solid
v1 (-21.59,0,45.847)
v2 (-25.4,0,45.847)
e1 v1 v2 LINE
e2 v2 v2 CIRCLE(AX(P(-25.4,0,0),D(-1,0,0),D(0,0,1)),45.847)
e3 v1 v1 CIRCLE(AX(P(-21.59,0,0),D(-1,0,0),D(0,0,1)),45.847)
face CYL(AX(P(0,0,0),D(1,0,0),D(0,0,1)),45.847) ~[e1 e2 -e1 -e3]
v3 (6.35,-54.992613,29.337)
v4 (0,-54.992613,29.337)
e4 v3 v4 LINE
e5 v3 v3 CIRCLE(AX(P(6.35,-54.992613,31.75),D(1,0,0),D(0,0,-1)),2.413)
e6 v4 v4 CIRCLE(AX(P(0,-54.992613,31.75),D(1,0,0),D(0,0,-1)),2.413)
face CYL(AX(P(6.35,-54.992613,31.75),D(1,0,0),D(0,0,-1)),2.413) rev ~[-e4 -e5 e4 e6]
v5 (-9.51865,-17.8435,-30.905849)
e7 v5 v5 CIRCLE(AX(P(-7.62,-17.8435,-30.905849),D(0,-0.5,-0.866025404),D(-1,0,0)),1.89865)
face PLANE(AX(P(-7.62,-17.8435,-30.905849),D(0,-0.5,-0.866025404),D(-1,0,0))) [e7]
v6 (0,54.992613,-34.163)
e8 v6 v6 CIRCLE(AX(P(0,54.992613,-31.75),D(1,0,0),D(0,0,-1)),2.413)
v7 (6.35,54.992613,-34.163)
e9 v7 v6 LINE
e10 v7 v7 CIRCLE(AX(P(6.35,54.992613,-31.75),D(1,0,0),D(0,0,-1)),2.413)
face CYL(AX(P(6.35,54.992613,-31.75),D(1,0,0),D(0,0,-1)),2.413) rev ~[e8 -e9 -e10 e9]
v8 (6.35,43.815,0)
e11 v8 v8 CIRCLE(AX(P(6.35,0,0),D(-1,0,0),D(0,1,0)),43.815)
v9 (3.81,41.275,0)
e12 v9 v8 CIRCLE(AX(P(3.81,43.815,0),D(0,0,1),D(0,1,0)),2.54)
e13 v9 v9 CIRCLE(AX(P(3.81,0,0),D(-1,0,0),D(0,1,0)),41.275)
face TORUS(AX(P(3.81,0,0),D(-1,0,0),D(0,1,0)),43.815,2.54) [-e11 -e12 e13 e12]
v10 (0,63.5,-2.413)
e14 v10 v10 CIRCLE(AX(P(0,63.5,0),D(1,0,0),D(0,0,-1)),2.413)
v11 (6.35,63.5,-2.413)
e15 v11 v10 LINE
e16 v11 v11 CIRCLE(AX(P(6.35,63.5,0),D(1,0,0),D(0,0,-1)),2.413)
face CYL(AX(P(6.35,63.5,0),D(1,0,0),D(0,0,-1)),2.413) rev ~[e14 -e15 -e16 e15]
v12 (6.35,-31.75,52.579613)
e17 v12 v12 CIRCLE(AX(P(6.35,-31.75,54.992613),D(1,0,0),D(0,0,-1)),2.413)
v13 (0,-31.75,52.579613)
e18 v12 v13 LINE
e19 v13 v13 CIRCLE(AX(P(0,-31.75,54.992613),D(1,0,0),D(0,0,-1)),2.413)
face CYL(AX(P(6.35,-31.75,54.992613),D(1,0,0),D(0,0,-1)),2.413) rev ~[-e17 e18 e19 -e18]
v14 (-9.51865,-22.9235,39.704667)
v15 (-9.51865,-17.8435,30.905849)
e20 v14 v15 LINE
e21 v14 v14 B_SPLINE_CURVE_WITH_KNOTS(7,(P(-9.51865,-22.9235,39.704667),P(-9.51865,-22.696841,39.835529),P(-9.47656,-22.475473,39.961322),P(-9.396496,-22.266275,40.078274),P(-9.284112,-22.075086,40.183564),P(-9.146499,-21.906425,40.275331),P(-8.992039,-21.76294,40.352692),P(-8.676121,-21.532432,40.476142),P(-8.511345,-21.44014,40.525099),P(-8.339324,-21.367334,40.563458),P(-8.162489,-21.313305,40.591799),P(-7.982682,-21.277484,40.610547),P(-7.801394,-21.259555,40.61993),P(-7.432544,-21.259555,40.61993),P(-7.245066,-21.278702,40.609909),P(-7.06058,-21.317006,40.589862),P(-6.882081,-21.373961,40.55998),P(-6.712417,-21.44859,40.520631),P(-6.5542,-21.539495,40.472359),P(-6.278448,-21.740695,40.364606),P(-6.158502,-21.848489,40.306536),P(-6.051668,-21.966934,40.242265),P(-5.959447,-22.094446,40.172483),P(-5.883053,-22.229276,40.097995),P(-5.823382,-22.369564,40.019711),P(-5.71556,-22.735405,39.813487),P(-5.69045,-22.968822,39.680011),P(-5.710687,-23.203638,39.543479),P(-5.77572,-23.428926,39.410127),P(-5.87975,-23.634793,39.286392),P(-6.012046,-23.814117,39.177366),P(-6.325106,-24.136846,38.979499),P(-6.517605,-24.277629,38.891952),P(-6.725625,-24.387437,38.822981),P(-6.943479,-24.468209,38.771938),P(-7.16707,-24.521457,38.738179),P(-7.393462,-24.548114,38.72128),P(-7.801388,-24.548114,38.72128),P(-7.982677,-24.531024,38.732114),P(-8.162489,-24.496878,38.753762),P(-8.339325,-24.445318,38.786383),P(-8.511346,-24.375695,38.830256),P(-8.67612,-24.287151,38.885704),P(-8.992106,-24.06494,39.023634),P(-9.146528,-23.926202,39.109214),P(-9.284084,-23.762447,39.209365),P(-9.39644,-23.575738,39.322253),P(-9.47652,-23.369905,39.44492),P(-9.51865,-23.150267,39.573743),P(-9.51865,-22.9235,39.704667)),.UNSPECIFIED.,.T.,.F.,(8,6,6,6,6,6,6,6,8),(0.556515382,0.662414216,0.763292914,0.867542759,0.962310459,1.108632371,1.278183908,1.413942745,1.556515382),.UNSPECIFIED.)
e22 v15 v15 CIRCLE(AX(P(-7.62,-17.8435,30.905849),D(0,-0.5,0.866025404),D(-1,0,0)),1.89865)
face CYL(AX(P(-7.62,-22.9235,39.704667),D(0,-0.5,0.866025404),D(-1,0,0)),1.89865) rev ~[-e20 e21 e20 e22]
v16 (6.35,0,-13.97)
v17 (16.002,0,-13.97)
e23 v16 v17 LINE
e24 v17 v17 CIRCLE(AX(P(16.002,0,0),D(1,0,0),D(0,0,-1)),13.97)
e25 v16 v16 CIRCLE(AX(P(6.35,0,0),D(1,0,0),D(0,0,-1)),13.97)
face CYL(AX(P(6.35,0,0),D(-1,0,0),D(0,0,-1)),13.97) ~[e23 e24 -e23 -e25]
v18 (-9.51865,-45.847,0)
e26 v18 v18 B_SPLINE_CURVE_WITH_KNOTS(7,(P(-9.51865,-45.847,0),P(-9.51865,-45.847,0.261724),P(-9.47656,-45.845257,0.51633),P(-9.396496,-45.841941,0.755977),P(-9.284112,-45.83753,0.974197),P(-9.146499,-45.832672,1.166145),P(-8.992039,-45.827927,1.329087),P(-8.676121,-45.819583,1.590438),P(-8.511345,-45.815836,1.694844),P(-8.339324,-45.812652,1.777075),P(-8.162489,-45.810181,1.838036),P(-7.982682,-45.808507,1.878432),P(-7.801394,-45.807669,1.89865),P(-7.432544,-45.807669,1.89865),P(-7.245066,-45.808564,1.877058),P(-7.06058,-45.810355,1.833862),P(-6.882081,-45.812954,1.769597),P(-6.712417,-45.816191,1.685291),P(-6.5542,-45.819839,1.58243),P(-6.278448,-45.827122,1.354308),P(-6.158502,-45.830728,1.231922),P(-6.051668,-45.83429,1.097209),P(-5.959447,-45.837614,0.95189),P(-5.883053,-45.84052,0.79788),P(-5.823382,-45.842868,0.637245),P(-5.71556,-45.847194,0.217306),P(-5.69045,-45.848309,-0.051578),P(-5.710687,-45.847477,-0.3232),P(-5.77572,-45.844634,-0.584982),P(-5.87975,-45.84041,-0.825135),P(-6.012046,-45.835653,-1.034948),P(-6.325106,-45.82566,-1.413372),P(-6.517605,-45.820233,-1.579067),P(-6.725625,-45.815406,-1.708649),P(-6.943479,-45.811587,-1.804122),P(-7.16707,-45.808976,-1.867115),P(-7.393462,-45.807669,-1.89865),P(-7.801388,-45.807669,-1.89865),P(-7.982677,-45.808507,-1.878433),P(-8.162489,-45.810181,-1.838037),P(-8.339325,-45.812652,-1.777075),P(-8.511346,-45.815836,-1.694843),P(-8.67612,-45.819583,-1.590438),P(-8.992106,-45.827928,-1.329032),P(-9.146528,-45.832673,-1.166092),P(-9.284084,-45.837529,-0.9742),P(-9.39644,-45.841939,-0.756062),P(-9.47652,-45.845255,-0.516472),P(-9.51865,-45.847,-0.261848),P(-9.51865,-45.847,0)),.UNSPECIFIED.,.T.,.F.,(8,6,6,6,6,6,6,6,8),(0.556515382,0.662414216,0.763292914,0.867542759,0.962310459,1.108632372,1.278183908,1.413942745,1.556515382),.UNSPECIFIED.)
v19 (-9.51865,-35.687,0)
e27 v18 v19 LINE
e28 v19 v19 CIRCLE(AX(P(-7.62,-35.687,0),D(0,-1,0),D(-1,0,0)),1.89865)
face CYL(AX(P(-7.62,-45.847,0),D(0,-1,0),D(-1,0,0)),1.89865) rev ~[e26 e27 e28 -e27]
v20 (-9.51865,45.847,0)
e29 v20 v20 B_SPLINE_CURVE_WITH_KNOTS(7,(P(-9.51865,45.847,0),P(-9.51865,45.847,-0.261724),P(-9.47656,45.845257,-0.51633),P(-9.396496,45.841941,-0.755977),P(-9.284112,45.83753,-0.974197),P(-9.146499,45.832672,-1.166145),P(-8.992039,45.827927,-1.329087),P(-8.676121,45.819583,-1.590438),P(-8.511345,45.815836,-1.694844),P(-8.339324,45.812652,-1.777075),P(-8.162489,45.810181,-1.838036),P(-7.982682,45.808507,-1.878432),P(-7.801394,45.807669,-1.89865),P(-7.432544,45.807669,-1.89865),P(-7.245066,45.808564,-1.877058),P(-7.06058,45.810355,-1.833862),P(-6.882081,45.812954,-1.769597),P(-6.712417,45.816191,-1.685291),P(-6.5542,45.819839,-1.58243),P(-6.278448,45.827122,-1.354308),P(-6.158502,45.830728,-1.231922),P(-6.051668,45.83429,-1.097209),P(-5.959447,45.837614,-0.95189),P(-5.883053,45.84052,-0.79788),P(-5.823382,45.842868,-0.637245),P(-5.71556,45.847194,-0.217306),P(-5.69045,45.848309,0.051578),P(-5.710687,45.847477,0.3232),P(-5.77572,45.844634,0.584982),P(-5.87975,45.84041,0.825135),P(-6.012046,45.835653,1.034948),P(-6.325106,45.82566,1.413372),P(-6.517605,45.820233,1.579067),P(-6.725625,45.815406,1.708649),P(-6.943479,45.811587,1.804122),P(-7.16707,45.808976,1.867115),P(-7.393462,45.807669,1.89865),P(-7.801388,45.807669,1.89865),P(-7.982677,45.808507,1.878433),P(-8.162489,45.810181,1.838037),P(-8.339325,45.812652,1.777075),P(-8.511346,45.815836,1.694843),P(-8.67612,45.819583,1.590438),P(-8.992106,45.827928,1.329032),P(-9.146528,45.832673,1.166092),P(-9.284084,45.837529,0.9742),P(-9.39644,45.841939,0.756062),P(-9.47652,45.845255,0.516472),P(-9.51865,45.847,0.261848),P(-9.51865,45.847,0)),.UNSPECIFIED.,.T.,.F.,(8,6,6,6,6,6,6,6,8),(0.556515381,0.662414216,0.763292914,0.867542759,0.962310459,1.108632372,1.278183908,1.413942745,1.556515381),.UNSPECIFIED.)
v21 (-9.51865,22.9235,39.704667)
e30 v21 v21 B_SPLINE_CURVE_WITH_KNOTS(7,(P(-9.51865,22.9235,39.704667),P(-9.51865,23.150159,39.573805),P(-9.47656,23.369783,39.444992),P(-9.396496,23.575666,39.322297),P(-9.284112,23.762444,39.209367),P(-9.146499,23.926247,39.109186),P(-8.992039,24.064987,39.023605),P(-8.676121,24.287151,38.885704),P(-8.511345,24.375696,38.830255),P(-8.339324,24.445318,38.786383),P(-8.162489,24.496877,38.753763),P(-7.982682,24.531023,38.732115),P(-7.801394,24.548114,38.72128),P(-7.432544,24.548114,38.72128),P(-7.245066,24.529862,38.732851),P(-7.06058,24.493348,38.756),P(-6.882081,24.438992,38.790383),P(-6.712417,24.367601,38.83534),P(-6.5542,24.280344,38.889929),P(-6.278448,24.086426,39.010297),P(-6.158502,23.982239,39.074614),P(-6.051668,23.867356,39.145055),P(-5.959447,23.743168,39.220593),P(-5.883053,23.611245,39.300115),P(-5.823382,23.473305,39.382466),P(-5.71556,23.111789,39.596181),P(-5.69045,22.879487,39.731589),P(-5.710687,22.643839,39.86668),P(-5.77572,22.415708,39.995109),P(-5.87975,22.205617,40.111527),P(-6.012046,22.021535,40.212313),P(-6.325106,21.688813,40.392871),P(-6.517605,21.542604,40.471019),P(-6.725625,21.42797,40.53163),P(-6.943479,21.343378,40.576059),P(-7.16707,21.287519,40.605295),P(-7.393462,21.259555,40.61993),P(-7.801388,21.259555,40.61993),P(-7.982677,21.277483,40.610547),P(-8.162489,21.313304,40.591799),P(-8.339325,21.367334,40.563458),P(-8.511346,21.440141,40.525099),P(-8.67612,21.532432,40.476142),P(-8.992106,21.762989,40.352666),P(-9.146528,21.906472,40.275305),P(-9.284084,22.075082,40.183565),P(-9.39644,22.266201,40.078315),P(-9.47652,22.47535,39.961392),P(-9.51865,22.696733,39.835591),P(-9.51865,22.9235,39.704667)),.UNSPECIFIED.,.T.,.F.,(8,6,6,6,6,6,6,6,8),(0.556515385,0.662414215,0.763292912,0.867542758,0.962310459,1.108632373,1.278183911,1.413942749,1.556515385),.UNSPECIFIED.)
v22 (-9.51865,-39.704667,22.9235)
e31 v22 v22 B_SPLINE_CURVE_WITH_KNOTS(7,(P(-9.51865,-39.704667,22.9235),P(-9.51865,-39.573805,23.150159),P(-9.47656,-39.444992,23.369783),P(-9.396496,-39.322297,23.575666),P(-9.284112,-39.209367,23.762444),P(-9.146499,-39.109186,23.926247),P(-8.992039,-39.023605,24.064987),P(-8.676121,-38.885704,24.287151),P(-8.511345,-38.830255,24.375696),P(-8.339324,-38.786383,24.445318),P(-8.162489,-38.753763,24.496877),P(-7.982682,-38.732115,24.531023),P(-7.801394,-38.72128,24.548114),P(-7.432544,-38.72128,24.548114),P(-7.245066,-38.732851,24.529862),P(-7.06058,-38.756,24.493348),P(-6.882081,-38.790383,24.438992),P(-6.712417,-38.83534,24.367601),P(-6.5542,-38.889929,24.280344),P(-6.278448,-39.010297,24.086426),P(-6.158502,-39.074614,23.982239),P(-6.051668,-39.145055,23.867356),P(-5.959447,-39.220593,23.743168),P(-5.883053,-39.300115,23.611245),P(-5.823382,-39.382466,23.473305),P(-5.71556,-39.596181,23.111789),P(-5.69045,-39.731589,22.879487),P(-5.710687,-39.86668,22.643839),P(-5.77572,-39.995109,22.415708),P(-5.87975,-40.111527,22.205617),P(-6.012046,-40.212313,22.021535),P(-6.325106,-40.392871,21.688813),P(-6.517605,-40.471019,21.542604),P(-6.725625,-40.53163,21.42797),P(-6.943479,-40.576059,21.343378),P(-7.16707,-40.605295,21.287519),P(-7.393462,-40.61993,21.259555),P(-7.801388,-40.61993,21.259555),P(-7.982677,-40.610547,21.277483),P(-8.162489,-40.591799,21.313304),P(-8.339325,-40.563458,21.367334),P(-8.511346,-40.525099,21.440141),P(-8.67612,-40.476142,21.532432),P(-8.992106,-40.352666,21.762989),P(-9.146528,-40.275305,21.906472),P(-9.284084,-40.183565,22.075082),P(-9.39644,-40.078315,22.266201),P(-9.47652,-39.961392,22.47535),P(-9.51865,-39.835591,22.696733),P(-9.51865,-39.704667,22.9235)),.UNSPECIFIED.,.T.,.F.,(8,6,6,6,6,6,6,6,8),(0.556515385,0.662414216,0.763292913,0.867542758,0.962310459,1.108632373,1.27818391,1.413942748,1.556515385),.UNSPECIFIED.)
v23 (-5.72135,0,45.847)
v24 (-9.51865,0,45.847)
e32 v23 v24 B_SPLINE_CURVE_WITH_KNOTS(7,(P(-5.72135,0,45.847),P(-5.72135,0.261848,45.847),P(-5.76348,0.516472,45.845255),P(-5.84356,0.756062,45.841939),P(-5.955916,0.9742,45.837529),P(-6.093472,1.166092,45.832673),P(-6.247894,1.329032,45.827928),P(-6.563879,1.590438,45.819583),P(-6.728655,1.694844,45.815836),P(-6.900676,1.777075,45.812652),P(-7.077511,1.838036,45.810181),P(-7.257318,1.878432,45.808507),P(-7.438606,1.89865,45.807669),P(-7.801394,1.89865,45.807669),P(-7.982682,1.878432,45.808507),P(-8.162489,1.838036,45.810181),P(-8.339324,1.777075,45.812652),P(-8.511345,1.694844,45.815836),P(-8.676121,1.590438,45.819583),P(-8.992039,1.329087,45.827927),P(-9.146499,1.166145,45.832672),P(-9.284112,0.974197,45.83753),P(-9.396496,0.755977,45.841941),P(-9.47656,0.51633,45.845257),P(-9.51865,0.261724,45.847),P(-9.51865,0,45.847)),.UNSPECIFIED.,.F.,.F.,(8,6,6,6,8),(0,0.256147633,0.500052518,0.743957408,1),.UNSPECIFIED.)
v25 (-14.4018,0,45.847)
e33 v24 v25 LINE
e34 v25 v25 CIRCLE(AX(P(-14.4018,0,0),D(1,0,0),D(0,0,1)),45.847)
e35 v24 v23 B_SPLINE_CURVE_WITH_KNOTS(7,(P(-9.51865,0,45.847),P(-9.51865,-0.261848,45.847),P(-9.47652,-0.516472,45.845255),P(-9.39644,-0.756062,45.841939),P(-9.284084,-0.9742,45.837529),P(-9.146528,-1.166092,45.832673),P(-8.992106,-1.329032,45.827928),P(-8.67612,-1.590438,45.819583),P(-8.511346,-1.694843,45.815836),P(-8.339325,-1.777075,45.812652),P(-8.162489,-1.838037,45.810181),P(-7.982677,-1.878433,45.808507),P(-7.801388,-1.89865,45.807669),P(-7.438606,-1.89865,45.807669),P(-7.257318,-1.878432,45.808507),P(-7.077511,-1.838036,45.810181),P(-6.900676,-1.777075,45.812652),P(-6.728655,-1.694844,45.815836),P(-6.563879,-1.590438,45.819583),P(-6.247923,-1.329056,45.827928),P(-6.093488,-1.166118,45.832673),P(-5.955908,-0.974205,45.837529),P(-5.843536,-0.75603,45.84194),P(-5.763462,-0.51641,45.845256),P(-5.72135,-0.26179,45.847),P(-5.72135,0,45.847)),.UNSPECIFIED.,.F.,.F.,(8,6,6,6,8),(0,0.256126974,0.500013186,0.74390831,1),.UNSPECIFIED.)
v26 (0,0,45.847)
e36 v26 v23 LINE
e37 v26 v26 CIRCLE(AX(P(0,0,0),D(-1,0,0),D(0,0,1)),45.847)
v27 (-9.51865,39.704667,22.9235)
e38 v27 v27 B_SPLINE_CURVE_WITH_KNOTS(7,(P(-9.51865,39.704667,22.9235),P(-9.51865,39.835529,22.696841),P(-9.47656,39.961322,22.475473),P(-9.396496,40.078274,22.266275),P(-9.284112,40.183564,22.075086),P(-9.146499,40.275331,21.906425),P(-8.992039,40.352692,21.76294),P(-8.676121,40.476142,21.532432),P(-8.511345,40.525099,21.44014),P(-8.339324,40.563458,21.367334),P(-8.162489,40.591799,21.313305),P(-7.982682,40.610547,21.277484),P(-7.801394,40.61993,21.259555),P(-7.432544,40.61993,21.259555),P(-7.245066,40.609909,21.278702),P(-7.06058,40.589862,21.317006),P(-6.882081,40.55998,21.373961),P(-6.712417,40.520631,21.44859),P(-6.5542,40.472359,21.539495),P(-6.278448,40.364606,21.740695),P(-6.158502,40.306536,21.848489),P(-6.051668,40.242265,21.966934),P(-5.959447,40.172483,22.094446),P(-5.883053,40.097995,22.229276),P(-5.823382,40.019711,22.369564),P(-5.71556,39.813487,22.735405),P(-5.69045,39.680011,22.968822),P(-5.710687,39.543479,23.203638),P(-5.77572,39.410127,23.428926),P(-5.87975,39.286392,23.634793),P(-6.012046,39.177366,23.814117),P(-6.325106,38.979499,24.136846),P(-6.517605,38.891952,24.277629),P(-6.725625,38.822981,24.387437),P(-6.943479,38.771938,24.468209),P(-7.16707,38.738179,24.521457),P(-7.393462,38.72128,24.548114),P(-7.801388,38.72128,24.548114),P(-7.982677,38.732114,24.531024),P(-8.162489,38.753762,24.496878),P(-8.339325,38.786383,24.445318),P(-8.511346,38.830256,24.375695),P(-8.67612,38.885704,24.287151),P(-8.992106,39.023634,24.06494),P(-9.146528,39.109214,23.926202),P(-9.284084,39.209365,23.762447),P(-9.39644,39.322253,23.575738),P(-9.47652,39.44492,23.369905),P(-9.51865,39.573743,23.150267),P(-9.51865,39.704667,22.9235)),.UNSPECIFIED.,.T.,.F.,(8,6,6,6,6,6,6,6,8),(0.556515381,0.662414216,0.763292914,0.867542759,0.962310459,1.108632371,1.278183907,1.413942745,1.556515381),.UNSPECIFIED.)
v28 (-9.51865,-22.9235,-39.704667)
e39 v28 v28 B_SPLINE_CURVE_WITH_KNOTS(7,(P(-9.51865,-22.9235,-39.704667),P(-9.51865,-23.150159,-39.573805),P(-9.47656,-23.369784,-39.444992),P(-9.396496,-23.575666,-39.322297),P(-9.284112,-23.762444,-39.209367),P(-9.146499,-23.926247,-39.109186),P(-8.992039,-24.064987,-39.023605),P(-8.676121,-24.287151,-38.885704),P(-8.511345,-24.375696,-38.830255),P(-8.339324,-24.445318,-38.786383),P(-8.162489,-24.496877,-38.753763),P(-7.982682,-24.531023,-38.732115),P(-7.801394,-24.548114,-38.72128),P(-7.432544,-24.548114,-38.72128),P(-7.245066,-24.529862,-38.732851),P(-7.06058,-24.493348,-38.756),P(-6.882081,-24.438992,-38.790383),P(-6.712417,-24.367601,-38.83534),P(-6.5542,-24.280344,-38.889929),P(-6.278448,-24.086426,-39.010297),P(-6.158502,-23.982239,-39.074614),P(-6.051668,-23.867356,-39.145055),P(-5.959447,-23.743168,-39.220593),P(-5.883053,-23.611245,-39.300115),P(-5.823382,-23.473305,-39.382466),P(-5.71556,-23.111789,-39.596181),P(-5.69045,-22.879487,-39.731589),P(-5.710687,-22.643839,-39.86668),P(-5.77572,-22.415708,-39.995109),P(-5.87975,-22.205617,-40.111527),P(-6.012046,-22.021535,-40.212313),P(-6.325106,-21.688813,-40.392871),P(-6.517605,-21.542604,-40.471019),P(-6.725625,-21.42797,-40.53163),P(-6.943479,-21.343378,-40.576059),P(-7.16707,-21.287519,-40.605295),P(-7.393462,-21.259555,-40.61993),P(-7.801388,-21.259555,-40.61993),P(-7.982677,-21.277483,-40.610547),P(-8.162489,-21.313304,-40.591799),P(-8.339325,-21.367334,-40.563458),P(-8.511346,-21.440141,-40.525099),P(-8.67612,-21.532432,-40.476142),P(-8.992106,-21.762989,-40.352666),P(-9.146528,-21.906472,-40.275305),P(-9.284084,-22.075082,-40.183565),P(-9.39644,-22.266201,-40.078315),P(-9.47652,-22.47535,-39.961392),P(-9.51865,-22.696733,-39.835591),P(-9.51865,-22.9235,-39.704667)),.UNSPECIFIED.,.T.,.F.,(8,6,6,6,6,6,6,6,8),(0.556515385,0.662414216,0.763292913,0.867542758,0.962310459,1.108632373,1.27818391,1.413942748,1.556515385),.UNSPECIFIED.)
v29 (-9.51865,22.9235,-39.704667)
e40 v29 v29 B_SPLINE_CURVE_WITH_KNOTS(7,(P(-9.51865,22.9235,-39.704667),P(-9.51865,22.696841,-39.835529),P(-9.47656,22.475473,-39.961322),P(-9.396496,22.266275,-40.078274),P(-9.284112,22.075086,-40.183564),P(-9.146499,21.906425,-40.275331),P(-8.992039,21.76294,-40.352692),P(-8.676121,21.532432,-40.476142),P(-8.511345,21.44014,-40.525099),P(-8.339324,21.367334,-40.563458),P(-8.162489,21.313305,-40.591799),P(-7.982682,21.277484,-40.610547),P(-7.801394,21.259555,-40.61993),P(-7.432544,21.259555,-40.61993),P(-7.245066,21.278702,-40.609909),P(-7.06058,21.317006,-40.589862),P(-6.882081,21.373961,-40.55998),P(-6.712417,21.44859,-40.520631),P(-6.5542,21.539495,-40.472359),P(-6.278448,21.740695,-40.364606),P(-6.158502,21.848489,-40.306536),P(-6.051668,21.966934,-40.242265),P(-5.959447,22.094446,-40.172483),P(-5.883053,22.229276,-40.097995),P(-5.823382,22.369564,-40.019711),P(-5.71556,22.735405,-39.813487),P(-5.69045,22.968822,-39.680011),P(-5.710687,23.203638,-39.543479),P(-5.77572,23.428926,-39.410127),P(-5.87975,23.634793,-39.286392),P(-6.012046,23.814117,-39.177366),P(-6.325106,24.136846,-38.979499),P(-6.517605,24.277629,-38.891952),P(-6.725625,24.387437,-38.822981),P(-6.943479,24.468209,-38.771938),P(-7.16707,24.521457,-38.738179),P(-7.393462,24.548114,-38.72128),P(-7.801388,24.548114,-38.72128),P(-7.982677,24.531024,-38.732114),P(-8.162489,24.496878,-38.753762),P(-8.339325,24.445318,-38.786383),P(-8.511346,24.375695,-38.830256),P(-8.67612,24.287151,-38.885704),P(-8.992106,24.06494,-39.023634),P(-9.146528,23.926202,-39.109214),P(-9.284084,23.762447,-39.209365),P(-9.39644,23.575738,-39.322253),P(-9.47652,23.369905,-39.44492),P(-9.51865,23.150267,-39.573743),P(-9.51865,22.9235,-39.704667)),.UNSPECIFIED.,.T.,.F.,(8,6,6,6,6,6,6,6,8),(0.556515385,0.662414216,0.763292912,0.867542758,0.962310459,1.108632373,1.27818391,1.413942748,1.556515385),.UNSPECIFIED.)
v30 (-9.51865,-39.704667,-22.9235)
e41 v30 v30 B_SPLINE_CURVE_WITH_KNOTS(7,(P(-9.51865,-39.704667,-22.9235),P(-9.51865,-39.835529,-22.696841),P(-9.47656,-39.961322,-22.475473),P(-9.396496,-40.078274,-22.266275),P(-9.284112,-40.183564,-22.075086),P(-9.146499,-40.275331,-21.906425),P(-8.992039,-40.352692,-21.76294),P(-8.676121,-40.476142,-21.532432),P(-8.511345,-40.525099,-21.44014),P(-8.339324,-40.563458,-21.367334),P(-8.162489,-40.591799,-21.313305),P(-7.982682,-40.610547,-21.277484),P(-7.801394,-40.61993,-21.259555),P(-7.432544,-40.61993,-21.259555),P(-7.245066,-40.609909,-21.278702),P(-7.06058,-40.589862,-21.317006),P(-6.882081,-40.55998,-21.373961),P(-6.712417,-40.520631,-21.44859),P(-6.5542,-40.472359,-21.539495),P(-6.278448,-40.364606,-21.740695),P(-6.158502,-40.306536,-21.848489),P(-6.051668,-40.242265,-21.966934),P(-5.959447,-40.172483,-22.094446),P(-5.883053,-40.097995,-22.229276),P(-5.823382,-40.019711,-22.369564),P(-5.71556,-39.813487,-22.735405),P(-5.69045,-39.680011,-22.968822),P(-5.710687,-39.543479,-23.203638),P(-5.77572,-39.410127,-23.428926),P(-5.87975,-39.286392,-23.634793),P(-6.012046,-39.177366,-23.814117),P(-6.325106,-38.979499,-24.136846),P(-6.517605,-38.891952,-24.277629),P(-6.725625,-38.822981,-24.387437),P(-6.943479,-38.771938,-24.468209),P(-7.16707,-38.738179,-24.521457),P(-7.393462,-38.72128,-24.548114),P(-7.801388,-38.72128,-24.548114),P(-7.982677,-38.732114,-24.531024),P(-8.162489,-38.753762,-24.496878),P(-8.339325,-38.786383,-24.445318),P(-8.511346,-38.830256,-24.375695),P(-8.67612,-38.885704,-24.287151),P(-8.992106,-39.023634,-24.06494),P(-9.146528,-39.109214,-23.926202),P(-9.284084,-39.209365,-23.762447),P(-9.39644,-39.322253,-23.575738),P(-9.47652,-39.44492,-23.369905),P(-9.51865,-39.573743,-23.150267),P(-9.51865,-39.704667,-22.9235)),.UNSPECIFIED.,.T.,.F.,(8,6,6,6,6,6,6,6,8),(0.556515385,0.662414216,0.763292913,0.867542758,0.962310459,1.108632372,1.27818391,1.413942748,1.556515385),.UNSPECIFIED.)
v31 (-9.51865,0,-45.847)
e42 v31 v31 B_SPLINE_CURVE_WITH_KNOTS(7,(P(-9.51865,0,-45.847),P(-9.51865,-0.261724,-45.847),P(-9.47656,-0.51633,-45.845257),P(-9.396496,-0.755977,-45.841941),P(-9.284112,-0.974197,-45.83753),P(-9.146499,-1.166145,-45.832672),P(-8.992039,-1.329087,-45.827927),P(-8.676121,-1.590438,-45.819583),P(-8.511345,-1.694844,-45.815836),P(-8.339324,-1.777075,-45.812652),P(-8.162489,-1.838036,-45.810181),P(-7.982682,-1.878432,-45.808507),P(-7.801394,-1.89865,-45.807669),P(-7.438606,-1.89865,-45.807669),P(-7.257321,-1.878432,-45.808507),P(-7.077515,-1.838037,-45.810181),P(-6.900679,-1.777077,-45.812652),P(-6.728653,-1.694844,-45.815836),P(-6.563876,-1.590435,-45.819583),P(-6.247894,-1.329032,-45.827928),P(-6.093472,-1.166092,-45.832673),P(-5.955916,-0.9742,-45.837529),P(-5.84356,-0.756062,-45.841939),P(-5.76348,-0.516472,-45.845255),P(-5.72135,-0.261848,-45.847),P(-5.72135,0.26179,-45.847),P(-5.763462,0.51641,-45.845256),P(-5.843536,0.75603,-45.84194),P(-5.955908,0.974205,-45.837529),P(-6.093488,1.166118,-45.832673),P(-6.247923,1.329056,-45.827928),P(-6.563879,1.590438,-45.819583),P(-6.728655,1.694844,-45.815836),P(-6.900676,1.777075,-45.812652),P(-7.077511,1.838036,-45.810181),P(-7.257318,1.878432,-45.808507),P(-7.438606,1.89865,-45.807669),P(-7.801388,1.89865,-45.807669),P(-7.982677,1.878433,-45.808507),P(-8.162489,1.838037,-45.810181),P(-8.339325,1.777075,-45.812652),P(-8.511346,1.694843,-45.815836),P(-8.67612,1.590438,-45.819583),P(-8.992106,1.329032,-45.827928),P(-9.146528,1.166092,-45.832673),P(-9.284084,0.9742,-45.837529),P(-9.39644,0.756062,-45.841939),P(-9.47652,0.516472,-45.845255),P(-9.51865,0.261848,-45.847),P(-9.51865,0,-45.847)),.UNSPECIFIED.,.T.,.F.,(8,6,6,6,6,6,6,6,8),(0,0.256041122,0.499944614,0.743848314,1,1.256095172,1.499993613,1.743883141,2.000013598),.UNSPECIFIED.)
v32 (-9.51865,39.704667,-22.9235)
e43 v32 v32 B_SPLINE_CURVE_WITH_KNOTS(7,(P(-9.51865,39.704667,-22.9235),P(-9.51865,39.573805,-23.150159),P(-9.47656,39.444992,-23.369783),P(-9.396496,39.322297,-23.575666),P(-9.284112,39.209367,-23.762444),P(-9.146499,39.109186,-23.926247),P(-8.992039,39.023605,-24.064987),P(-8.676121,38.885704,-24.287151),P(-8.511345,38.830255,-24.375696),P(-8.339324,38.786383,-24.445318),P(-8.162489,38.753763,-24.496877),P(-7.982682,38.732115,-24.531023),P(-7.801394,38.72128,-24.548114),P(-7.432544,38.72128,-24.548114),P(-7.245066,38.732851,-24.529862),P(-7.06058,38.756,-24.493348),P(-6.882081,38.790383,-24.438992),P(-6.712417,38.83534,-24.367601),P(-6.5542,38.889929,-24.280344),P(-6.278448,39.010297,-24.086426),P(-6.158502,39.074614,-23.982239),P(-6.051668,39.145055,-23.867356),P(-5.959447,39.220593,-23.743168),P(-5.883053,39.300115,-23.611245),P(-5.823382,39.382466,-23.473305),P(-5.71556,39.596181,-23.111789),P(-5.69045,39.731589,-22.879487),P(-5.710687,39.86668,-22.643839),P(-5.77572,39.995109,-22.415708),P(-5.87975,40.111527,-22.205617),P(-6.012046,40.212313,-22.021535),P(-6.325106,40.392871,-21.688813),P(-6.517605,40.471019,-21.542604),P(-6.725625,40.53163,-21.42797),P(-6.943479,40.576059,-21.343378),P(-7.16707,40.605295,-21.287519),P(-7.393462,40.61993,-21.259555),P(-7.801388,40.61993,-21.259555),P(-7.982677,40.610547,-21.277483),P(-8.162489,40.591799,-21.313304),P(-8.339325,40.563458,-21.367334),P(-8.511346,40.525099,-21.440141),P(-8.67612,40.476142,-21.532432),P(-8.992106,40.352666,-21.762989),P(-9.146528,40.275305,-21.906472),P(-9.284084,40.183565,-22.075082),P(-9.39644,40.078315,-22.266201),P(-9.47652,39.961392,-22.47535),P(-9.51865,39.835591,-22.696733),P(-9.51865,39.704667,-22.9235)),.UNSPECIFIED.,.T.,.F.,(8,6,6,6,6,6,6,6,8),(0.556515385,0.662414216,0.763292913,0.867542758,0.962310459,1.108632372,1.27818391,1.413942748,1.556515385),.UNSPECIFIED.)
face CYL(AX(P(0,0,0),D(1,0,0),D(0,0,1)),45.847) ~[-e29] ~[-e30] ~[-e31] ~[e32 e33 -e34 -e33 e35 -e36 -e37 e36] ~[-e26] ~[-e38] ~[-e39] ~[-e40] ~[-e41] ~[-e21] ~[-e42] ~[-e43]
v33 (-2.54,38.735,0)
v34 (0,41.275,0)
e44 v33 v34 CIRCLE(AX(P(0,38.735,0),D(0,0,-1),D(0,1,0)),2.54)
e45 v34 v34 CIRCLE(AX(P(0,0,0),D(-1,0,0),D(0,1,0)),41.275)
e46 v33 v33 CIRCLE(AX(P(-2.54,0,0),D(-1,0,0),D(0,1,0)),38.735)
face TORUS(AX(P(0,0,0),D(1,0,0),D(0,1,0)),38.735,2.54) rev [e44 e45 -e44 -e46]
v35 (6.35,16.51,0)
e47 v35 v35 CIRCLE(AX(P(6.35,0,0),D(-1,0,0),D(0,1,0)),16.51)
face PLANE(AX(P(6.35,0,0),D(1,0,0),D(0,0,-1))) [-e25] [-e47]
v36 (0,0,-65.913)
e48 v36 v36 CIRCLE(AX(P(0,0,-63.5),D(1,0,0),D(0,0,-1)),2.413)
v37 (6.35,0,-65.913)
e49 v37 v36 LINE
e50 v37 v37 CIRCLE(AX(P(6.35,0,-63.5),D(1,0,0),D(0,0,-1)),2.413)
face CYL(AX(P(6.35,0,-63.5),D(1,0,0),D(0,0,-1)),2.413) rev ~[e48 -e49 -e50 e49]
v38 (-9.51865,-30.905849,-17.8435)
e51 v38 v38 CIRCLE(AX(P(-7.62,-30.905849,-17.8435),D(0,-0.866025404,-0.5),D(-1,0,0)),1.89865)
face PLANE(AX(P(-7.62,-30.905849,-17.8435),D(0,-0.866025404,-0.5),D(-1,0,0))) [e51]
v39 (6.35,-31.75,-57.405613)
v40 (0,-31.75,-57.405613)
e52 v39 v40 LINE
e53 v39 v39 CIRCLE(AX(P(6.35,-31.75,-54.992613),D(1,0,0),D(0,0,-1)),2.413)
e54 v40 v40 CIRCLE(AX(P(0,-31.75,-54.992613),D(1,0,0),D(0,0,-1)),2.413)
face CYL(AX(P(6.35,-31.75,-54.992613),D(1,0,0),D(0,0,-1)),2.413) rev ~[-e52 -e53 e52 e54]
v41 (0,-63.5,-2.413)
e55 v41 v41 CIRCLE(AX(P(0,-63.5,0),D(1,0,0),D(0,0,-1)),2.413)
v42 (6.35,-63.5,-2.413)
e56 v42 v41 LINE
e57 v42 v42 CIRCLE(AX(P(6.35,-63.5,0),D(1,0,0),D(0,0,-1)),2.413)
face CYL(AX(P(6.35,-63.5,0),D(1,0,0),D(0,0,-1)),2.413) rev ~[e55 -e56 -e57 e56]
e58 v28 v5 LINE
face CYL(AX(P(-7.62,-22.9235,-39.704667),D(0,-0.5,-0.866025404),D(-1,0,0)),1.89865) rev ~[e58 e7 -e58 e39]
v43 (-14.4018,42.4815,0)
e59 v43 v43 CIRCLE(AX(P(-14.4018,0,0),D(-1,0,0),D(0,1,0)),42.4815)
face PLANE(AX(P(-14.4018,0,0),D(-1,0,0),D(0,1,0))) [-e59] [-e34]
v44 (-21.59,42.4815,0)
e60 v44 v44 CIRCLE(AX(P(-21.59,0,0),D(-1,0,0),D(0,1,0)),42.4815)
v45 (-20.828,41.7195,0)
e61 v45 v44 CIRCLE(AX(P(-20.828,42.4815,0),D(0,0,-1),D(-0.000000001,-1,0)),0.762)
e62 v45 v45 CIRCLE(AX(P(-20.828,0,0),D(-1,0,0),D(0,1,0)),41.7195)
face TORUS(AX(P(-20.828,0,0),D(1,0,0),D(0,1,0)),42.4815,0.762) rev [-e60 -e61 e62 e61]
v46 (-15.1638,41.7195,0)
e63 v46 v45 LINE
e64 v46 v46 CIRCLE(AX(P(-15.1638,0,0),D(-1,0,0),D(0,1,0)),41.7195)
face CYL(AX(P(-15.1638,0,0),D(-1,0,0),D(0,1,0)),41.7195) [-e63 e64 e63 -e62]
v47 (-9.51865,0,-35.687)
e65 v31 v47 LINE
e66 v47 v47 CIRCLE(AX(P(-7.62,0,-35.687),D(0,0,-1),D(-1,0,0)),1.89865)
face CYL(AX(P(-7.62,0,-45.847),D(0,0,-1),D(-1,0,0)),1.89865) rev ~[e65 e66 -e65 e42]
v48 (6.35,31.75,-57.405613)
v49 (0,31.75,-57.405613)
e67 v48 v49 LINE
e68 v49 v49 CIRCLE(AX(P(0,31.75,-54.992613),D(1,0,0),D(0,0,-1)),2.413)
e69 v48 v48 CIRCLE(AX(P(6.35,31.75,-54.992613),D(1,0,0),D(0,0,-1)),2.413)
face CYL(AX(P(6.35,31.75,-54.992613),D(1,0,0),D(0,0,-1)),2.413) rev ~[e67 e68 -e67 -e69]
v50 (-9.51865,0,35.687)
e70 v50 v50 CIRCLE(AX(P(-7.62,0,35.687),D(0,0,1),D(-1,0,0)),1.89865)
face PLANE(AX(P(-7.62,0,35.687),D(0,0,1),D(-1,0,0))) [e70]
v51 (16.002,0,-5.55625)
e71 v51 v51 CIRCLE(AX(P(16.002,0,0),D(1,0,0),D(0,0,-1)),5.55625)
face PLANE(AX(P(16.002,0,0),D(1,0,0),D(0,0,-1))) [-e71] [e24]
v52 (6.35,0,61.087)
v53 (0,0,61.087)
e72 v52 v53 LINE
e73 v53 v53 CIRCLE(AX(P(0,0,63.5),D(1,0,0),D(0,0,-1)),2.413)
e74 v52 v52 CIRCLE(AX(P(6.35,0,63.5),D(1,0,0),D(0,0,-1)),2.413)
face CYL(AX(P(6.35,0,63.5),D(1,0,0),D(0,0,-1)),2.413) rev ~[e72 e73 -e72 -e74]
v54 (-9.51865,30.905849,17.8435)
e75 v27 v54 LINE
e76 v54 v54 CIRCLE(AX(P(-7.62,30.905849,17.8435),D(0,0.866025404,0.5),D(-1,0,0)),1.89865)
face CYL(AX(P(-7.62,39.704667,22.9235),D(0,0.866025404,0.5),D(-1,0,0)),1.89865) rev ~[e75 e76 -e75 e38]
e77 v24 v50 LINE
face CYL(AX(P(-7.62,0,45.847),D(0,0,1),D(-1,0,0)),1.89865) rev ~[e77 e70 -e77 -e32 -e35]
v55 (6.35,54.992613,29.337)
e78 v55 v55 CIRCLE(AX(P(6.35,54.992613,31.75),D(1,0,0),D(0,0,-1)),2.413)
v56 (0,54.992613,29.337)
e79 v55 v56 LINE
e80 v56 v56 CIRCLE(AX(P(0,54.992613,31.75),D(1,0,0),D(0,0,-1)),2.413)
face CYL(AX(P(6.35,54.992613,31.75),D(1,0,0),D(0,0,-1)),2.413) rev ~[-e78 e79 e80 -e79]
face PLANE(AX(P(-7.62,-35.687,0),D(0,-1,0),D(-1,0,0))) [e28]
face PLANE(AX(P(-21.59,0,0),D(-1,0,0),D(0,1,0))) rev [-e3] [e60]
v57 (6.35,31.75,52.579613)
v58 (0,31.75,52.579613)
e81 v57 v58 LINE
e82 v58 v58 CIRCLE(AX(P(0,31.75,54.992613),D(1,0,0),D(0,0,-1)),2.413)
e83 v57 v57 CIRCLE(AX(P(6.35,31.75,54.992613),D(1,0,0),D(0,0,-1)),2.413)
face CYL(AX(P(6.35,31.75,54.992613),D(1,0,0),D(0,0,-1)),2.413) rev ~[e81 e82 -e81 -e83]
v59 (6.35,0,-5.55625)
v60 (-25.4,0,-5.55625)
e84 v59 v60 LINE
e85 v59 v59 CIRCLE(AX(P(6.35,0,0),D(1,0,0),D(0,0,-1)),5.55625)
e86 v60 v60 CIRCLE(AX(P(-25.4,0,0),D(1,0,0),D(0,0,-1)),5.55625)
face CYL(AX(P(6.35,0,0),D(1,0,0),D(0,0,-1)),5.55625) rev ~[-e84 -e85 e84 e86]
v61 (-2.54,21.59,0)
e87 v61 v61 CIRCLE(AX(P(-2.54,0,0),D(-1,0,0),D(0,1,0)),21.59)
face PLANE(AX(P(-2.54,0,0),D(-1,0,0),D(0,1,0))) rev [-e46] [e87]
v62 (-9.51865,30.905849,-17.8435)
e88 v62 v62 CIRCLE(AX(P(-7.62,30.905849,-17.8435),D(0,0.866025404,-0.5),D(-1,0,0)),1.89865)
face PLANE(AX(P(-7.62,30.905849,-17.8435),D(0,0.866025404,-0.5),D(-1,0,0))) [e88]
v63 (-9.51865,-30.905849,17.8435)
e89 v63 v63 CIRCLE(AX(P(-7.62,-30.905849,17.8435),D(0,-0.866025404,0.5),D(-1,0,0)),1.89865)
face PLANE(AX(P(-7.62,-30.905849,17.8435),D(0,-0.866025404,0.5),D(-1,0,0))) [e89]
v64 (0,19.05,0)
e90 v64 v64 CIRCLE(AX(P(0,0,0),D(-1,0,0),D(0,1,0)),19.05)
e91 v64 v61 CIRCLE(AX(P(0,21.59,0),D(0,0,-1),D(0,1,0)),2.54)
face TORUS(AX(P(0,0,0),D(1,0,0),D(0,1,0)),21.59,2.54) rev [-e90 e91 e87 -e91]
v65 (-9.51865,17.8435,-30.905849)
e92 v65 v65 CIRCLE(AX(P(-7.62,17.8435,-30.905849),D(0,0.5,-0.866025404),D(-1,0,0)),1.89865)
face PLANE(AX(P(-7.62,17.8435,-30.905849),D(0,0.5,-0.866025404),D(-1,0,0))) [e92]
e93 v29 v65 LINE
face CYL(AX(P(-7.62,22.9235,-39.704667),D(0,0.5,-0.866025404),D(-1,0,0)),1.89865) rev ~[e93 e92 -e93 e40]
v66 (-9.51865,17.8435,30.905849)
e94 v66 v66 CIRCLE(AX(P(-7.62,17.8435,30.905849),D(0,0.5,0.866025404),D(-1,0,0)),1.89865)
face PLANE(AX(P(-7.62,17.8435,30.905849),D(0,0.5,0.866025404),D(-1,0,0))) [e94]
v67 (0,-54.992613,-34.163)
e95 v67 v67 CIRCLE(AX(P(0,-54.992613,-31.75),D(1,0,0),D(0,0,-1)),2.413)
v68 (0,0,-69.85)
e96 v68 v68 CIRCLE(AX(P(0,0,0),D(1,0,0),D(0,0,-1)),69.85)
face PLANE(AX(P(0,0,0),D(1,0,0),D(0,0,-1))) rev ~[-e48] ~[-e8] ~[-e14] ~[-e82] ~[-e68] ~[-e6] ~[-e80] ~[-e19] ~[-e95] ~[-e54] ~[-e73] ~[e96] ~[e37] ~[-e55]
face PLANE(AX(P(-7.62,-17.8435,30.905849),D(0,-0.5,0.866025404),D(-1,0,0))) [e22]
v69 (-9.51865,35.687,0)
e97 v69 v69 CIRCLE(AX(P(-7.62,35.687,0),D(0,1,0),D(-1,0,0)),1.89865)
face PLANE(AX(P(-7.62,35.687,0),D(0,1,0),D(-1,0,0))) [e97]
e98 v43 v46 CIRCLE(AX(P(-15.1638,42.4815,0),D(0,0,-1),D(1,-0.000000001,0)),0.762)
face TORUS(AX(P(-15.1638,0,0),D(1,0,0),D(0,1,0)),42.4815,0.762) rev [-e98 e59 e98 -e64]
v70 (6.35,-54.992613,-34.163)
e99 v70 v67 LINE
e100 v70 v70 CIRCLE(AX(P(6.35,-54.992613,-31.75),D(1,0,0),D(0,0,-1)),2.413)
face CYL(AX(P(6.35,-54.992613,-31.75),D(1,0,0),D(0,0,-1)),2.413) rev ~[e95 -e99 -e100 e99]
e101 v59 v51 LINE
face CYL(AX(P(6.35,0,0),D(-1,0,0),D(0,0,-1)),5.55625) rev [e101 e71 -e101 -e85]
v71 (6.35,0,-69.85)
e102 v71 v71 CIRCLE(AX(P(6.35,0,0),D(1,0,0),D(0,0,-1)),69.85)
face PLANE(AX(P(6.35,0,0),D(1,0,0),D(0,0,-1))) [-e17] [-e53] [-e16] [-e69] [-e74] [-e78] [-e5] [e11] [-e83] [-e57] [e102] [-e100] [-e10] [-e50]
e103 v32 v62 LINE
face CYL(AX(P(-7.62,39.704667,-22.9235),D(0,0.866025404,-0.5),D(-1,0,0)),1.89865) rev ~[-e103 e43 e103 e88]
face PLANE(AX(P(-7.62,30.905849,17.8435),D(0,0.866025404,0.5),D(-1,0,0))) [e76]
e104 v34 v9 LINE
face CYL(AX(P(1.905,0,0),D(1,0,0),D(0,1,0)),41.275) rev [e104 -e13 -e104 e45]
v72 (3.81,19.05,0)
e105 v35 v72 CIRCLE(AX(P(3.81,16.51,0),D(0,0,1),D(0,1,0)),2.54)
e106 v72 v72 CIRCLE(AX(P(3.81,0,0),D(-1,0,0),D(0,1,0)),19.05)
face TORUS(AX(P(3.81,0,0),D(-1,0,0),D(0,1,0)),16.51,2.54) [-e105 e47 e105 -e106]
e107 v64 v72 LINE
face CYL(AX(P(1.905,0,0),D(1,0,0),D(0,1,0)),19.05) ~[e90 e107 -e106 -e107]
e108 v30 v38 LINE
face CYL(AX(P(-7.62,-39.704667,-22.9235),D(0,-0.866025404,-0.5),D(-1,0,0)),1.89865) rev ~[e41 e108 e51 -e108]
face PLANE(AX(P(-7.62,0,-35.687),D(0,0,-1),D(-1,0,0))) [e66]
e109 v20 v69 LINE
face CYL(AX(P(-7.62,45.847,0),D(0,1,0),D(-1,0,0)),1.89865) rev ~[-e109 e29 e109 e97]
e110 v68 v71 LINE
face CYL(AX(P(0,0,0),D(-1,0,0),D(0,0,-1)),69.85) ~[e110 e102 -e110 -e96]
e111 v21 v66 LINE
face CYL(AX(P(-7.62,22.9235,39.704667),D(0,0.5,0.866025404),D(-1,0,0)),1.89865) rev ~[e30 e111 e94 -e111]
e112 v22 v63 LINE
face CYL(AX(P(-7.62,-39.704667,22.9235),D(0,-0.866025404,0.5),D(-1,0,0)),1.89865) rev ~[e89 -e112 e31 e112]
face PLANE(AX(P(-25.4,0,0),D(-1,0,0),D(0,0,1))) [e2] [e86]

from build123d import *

# Parameters (mm, degrees)
SKETCH1_R               = 69.85
BOSS_EXTRUDE1_DEPTH     = 6.35
SKETCH2_R               = 45.847
BOSS_EXTRUDE2_DEPTH     = 25.4
SKETCH11_R              = 1.89865
CUT_EXTRUDE3_DEPTH      = 10.16
CIRPATTERN1_COUNT       = 12
SKETCH15_R              = 5.55625
CUT_EXTRUDE4_DEPTH      = 1
CUT_EXTRUDE4_DEPTH_BACK = 32.7500001
SKETCH17_R              = 13.97
SKETCH17_R_2            = 5.55625
BOSS_EXTRUDE3_DEPTH     = 9.652
SKETCH18_W              = 8.89
SKETCH18_H              = 22.225
FILLET1_R               = 2.54
SKETCH19_R              = 2.413
CUT_EXTRUDE5_DEPTH      = 32.75


with BuildPart() as part:
    # Sketch1 → Boss-Extrude1 (new body)
    with BuildSketch(Plane(origin=(0, 0, 0), x_dir=(0, 0, -1), z_dir=(1, 0, 0))):
        Circle(SKETCH1_R)
    extrude(amount=BOSS_EXTRUDE1_DEPTH)

    # Sketch2 → Boss-Extrude2 (add)
    with BuildSketch(Plane.ZY):
        Circle(SKETCH2_R)
    extrude(amount=BOSS_EXTRUDE2_DEPTH)

    # Sketch11 → Cut-Extrude3 (cut)
    with BuildSketch(Plane(origin=(0, 0, -45.847), x_dir=(-1, 0, 0), z_dir=(0, 0, -1))):
        with Locations((7.62, 0)):
            Circle(SKETCH11_R)
    cut_extrude3 = extrude(amount=-CUT_EXTRUDE3_DEPTH, mode=Mode.SUBTRACT)

    # CirPattern1: Cut-Extrude3 ×12 about axis
    cirpattern1_axis = Axis((0, 0, 0), (1, 0, 0))
    for i in range(1, CIRPATTERN1_COUNT):
        add(cut_extrude3.rotate(cirpattern1_axis, i * 360 / CIRPATTERN1_COUNT), mode=Mode.SUBTRACT)

    # Sketch15 → Cut-Extrude4 (cut, two sides)
    with BuildSketch(Plane(origin=(6.35, 0, 0), x_dir=(0, 0, -1), z_dir=(1, 0, 0))) as cut_extrude4_sk:
        Circle(SKETCH15_R)
    extrude(amount=CUT_EXTRUDE4_DEPTH, mode=Mode.SUBTRACT)
    extrude(cut_extrude4_sk.sketch, amount=-CUT_EXTRUDE4_DEPTH_BACK, mode=Mode.SUBTRACT)

    # Sketch16 → Cut-Revolve1 (revolve, cut)
    with BuildSketch(Plane.XY):
        with BuildLine():
            Line((-21.59, 45.847), (-14.4018, 45.847))
            Line((-14.4018, 45.847), (-14.4018, 42.4815))
            ThreePointArc((-14.4018, 42.4815), (-14.624984633, 41.942684633), (-15.1638, 41.7195))
            Line((-15.1638, 41.7195), (-20.828, 41.7195))
            ThreePointArc((-20.828, 41.7195), (-21.366815367, 41.942684633), (-21.59, 42.4815))
            Line((-21.59, 42.4815), (-21.59, 45.847))
        make_face()
    revolve(axis=Axis((0, 0, 0), (-1, 0, 0)), mode=Mode.SUBTRACT)

    # Sketch17 → Boss-Extrude3 (add)
    with BuildSketch(Plane(origin=(6.35, 0, 0), x_dir=(0, 0, -1), z_dir=(1, 0, 0))):
        Circle(SKETCH17_R)
        Circle(SKETCH17_R_2, mode=Mode.SUBTRACT)
    extrude(amount=BOSS_EXTRUDE3_DEPTH)

    # Sketch18 → Cut-Revolve2 (revolve, cut)
    with BuildSketch(Plane.XY):
        with Locations((1.905, 30.1625)):
            Rectangle(SKETCH18_W, SKETCH18_H)
    revolve(axis=Axis((0, 0, 0), (-1, 0, 0)), mode=Mode.SUBTRACT)

    # Fillet1
    fillet1_edges = [part.edges().sort_by_distance(p)[0] for p in [
        (6.35, -41.275, 0),
        (6.35, -19.05, 0),
        (-2.54, -19.05, 0),
        (-2.54, -41.275, 0),
    ]]
    fillet(fillet1_edges, radius=FILLET1_R)

    # Sketch19 → Cut-Extrude5 (cut, through all)
    with BuildSketch(Plane(origin=(6.35, 0, 0), x_dir=(0, 0, -1), z_dir=(1, 0, 0))):
        with Locations((0, 63.5)):
            Circle(SKETCH19_R)
        with Locations((31.75, 54.99261314)):
            Circle(SKETCH19_R)
        with Locations((54.99261314, 31.75)):
            Circle(SKETCH19_R)
        with Locations((63.5, 0)):
            Circle(SKETCH19_R)
        with Locations((54.99261314, -31.75)):
            Circle(SKETCH19_R)
        with Locations((31.75, -54.99261314)):
            Circle(SKETCH19_R)
        with Locations((0, -63.5)):
            Circle(SKETCH19_R)
        with Locations((-31.75, -54.99261314)):
            Circle(SKETCH19_R)
        with Locations((-54.99261314, -31.75)):
            Circle(SKETCH19_R)
        with Locations((-63.5, 0)):
            Circle(SKETCH19_R)
        with Locations((-54.99261314, 31.75)):
            Circle(SKETCH19_R)
        with Locations((-31.75, 54.99261314)):
            Circle(SKETCH19_R)
    extrude(amount=-CUT_EXTRUDE5_DEPTH, mode=Mode.SUBTRACT)


solid = part.part
